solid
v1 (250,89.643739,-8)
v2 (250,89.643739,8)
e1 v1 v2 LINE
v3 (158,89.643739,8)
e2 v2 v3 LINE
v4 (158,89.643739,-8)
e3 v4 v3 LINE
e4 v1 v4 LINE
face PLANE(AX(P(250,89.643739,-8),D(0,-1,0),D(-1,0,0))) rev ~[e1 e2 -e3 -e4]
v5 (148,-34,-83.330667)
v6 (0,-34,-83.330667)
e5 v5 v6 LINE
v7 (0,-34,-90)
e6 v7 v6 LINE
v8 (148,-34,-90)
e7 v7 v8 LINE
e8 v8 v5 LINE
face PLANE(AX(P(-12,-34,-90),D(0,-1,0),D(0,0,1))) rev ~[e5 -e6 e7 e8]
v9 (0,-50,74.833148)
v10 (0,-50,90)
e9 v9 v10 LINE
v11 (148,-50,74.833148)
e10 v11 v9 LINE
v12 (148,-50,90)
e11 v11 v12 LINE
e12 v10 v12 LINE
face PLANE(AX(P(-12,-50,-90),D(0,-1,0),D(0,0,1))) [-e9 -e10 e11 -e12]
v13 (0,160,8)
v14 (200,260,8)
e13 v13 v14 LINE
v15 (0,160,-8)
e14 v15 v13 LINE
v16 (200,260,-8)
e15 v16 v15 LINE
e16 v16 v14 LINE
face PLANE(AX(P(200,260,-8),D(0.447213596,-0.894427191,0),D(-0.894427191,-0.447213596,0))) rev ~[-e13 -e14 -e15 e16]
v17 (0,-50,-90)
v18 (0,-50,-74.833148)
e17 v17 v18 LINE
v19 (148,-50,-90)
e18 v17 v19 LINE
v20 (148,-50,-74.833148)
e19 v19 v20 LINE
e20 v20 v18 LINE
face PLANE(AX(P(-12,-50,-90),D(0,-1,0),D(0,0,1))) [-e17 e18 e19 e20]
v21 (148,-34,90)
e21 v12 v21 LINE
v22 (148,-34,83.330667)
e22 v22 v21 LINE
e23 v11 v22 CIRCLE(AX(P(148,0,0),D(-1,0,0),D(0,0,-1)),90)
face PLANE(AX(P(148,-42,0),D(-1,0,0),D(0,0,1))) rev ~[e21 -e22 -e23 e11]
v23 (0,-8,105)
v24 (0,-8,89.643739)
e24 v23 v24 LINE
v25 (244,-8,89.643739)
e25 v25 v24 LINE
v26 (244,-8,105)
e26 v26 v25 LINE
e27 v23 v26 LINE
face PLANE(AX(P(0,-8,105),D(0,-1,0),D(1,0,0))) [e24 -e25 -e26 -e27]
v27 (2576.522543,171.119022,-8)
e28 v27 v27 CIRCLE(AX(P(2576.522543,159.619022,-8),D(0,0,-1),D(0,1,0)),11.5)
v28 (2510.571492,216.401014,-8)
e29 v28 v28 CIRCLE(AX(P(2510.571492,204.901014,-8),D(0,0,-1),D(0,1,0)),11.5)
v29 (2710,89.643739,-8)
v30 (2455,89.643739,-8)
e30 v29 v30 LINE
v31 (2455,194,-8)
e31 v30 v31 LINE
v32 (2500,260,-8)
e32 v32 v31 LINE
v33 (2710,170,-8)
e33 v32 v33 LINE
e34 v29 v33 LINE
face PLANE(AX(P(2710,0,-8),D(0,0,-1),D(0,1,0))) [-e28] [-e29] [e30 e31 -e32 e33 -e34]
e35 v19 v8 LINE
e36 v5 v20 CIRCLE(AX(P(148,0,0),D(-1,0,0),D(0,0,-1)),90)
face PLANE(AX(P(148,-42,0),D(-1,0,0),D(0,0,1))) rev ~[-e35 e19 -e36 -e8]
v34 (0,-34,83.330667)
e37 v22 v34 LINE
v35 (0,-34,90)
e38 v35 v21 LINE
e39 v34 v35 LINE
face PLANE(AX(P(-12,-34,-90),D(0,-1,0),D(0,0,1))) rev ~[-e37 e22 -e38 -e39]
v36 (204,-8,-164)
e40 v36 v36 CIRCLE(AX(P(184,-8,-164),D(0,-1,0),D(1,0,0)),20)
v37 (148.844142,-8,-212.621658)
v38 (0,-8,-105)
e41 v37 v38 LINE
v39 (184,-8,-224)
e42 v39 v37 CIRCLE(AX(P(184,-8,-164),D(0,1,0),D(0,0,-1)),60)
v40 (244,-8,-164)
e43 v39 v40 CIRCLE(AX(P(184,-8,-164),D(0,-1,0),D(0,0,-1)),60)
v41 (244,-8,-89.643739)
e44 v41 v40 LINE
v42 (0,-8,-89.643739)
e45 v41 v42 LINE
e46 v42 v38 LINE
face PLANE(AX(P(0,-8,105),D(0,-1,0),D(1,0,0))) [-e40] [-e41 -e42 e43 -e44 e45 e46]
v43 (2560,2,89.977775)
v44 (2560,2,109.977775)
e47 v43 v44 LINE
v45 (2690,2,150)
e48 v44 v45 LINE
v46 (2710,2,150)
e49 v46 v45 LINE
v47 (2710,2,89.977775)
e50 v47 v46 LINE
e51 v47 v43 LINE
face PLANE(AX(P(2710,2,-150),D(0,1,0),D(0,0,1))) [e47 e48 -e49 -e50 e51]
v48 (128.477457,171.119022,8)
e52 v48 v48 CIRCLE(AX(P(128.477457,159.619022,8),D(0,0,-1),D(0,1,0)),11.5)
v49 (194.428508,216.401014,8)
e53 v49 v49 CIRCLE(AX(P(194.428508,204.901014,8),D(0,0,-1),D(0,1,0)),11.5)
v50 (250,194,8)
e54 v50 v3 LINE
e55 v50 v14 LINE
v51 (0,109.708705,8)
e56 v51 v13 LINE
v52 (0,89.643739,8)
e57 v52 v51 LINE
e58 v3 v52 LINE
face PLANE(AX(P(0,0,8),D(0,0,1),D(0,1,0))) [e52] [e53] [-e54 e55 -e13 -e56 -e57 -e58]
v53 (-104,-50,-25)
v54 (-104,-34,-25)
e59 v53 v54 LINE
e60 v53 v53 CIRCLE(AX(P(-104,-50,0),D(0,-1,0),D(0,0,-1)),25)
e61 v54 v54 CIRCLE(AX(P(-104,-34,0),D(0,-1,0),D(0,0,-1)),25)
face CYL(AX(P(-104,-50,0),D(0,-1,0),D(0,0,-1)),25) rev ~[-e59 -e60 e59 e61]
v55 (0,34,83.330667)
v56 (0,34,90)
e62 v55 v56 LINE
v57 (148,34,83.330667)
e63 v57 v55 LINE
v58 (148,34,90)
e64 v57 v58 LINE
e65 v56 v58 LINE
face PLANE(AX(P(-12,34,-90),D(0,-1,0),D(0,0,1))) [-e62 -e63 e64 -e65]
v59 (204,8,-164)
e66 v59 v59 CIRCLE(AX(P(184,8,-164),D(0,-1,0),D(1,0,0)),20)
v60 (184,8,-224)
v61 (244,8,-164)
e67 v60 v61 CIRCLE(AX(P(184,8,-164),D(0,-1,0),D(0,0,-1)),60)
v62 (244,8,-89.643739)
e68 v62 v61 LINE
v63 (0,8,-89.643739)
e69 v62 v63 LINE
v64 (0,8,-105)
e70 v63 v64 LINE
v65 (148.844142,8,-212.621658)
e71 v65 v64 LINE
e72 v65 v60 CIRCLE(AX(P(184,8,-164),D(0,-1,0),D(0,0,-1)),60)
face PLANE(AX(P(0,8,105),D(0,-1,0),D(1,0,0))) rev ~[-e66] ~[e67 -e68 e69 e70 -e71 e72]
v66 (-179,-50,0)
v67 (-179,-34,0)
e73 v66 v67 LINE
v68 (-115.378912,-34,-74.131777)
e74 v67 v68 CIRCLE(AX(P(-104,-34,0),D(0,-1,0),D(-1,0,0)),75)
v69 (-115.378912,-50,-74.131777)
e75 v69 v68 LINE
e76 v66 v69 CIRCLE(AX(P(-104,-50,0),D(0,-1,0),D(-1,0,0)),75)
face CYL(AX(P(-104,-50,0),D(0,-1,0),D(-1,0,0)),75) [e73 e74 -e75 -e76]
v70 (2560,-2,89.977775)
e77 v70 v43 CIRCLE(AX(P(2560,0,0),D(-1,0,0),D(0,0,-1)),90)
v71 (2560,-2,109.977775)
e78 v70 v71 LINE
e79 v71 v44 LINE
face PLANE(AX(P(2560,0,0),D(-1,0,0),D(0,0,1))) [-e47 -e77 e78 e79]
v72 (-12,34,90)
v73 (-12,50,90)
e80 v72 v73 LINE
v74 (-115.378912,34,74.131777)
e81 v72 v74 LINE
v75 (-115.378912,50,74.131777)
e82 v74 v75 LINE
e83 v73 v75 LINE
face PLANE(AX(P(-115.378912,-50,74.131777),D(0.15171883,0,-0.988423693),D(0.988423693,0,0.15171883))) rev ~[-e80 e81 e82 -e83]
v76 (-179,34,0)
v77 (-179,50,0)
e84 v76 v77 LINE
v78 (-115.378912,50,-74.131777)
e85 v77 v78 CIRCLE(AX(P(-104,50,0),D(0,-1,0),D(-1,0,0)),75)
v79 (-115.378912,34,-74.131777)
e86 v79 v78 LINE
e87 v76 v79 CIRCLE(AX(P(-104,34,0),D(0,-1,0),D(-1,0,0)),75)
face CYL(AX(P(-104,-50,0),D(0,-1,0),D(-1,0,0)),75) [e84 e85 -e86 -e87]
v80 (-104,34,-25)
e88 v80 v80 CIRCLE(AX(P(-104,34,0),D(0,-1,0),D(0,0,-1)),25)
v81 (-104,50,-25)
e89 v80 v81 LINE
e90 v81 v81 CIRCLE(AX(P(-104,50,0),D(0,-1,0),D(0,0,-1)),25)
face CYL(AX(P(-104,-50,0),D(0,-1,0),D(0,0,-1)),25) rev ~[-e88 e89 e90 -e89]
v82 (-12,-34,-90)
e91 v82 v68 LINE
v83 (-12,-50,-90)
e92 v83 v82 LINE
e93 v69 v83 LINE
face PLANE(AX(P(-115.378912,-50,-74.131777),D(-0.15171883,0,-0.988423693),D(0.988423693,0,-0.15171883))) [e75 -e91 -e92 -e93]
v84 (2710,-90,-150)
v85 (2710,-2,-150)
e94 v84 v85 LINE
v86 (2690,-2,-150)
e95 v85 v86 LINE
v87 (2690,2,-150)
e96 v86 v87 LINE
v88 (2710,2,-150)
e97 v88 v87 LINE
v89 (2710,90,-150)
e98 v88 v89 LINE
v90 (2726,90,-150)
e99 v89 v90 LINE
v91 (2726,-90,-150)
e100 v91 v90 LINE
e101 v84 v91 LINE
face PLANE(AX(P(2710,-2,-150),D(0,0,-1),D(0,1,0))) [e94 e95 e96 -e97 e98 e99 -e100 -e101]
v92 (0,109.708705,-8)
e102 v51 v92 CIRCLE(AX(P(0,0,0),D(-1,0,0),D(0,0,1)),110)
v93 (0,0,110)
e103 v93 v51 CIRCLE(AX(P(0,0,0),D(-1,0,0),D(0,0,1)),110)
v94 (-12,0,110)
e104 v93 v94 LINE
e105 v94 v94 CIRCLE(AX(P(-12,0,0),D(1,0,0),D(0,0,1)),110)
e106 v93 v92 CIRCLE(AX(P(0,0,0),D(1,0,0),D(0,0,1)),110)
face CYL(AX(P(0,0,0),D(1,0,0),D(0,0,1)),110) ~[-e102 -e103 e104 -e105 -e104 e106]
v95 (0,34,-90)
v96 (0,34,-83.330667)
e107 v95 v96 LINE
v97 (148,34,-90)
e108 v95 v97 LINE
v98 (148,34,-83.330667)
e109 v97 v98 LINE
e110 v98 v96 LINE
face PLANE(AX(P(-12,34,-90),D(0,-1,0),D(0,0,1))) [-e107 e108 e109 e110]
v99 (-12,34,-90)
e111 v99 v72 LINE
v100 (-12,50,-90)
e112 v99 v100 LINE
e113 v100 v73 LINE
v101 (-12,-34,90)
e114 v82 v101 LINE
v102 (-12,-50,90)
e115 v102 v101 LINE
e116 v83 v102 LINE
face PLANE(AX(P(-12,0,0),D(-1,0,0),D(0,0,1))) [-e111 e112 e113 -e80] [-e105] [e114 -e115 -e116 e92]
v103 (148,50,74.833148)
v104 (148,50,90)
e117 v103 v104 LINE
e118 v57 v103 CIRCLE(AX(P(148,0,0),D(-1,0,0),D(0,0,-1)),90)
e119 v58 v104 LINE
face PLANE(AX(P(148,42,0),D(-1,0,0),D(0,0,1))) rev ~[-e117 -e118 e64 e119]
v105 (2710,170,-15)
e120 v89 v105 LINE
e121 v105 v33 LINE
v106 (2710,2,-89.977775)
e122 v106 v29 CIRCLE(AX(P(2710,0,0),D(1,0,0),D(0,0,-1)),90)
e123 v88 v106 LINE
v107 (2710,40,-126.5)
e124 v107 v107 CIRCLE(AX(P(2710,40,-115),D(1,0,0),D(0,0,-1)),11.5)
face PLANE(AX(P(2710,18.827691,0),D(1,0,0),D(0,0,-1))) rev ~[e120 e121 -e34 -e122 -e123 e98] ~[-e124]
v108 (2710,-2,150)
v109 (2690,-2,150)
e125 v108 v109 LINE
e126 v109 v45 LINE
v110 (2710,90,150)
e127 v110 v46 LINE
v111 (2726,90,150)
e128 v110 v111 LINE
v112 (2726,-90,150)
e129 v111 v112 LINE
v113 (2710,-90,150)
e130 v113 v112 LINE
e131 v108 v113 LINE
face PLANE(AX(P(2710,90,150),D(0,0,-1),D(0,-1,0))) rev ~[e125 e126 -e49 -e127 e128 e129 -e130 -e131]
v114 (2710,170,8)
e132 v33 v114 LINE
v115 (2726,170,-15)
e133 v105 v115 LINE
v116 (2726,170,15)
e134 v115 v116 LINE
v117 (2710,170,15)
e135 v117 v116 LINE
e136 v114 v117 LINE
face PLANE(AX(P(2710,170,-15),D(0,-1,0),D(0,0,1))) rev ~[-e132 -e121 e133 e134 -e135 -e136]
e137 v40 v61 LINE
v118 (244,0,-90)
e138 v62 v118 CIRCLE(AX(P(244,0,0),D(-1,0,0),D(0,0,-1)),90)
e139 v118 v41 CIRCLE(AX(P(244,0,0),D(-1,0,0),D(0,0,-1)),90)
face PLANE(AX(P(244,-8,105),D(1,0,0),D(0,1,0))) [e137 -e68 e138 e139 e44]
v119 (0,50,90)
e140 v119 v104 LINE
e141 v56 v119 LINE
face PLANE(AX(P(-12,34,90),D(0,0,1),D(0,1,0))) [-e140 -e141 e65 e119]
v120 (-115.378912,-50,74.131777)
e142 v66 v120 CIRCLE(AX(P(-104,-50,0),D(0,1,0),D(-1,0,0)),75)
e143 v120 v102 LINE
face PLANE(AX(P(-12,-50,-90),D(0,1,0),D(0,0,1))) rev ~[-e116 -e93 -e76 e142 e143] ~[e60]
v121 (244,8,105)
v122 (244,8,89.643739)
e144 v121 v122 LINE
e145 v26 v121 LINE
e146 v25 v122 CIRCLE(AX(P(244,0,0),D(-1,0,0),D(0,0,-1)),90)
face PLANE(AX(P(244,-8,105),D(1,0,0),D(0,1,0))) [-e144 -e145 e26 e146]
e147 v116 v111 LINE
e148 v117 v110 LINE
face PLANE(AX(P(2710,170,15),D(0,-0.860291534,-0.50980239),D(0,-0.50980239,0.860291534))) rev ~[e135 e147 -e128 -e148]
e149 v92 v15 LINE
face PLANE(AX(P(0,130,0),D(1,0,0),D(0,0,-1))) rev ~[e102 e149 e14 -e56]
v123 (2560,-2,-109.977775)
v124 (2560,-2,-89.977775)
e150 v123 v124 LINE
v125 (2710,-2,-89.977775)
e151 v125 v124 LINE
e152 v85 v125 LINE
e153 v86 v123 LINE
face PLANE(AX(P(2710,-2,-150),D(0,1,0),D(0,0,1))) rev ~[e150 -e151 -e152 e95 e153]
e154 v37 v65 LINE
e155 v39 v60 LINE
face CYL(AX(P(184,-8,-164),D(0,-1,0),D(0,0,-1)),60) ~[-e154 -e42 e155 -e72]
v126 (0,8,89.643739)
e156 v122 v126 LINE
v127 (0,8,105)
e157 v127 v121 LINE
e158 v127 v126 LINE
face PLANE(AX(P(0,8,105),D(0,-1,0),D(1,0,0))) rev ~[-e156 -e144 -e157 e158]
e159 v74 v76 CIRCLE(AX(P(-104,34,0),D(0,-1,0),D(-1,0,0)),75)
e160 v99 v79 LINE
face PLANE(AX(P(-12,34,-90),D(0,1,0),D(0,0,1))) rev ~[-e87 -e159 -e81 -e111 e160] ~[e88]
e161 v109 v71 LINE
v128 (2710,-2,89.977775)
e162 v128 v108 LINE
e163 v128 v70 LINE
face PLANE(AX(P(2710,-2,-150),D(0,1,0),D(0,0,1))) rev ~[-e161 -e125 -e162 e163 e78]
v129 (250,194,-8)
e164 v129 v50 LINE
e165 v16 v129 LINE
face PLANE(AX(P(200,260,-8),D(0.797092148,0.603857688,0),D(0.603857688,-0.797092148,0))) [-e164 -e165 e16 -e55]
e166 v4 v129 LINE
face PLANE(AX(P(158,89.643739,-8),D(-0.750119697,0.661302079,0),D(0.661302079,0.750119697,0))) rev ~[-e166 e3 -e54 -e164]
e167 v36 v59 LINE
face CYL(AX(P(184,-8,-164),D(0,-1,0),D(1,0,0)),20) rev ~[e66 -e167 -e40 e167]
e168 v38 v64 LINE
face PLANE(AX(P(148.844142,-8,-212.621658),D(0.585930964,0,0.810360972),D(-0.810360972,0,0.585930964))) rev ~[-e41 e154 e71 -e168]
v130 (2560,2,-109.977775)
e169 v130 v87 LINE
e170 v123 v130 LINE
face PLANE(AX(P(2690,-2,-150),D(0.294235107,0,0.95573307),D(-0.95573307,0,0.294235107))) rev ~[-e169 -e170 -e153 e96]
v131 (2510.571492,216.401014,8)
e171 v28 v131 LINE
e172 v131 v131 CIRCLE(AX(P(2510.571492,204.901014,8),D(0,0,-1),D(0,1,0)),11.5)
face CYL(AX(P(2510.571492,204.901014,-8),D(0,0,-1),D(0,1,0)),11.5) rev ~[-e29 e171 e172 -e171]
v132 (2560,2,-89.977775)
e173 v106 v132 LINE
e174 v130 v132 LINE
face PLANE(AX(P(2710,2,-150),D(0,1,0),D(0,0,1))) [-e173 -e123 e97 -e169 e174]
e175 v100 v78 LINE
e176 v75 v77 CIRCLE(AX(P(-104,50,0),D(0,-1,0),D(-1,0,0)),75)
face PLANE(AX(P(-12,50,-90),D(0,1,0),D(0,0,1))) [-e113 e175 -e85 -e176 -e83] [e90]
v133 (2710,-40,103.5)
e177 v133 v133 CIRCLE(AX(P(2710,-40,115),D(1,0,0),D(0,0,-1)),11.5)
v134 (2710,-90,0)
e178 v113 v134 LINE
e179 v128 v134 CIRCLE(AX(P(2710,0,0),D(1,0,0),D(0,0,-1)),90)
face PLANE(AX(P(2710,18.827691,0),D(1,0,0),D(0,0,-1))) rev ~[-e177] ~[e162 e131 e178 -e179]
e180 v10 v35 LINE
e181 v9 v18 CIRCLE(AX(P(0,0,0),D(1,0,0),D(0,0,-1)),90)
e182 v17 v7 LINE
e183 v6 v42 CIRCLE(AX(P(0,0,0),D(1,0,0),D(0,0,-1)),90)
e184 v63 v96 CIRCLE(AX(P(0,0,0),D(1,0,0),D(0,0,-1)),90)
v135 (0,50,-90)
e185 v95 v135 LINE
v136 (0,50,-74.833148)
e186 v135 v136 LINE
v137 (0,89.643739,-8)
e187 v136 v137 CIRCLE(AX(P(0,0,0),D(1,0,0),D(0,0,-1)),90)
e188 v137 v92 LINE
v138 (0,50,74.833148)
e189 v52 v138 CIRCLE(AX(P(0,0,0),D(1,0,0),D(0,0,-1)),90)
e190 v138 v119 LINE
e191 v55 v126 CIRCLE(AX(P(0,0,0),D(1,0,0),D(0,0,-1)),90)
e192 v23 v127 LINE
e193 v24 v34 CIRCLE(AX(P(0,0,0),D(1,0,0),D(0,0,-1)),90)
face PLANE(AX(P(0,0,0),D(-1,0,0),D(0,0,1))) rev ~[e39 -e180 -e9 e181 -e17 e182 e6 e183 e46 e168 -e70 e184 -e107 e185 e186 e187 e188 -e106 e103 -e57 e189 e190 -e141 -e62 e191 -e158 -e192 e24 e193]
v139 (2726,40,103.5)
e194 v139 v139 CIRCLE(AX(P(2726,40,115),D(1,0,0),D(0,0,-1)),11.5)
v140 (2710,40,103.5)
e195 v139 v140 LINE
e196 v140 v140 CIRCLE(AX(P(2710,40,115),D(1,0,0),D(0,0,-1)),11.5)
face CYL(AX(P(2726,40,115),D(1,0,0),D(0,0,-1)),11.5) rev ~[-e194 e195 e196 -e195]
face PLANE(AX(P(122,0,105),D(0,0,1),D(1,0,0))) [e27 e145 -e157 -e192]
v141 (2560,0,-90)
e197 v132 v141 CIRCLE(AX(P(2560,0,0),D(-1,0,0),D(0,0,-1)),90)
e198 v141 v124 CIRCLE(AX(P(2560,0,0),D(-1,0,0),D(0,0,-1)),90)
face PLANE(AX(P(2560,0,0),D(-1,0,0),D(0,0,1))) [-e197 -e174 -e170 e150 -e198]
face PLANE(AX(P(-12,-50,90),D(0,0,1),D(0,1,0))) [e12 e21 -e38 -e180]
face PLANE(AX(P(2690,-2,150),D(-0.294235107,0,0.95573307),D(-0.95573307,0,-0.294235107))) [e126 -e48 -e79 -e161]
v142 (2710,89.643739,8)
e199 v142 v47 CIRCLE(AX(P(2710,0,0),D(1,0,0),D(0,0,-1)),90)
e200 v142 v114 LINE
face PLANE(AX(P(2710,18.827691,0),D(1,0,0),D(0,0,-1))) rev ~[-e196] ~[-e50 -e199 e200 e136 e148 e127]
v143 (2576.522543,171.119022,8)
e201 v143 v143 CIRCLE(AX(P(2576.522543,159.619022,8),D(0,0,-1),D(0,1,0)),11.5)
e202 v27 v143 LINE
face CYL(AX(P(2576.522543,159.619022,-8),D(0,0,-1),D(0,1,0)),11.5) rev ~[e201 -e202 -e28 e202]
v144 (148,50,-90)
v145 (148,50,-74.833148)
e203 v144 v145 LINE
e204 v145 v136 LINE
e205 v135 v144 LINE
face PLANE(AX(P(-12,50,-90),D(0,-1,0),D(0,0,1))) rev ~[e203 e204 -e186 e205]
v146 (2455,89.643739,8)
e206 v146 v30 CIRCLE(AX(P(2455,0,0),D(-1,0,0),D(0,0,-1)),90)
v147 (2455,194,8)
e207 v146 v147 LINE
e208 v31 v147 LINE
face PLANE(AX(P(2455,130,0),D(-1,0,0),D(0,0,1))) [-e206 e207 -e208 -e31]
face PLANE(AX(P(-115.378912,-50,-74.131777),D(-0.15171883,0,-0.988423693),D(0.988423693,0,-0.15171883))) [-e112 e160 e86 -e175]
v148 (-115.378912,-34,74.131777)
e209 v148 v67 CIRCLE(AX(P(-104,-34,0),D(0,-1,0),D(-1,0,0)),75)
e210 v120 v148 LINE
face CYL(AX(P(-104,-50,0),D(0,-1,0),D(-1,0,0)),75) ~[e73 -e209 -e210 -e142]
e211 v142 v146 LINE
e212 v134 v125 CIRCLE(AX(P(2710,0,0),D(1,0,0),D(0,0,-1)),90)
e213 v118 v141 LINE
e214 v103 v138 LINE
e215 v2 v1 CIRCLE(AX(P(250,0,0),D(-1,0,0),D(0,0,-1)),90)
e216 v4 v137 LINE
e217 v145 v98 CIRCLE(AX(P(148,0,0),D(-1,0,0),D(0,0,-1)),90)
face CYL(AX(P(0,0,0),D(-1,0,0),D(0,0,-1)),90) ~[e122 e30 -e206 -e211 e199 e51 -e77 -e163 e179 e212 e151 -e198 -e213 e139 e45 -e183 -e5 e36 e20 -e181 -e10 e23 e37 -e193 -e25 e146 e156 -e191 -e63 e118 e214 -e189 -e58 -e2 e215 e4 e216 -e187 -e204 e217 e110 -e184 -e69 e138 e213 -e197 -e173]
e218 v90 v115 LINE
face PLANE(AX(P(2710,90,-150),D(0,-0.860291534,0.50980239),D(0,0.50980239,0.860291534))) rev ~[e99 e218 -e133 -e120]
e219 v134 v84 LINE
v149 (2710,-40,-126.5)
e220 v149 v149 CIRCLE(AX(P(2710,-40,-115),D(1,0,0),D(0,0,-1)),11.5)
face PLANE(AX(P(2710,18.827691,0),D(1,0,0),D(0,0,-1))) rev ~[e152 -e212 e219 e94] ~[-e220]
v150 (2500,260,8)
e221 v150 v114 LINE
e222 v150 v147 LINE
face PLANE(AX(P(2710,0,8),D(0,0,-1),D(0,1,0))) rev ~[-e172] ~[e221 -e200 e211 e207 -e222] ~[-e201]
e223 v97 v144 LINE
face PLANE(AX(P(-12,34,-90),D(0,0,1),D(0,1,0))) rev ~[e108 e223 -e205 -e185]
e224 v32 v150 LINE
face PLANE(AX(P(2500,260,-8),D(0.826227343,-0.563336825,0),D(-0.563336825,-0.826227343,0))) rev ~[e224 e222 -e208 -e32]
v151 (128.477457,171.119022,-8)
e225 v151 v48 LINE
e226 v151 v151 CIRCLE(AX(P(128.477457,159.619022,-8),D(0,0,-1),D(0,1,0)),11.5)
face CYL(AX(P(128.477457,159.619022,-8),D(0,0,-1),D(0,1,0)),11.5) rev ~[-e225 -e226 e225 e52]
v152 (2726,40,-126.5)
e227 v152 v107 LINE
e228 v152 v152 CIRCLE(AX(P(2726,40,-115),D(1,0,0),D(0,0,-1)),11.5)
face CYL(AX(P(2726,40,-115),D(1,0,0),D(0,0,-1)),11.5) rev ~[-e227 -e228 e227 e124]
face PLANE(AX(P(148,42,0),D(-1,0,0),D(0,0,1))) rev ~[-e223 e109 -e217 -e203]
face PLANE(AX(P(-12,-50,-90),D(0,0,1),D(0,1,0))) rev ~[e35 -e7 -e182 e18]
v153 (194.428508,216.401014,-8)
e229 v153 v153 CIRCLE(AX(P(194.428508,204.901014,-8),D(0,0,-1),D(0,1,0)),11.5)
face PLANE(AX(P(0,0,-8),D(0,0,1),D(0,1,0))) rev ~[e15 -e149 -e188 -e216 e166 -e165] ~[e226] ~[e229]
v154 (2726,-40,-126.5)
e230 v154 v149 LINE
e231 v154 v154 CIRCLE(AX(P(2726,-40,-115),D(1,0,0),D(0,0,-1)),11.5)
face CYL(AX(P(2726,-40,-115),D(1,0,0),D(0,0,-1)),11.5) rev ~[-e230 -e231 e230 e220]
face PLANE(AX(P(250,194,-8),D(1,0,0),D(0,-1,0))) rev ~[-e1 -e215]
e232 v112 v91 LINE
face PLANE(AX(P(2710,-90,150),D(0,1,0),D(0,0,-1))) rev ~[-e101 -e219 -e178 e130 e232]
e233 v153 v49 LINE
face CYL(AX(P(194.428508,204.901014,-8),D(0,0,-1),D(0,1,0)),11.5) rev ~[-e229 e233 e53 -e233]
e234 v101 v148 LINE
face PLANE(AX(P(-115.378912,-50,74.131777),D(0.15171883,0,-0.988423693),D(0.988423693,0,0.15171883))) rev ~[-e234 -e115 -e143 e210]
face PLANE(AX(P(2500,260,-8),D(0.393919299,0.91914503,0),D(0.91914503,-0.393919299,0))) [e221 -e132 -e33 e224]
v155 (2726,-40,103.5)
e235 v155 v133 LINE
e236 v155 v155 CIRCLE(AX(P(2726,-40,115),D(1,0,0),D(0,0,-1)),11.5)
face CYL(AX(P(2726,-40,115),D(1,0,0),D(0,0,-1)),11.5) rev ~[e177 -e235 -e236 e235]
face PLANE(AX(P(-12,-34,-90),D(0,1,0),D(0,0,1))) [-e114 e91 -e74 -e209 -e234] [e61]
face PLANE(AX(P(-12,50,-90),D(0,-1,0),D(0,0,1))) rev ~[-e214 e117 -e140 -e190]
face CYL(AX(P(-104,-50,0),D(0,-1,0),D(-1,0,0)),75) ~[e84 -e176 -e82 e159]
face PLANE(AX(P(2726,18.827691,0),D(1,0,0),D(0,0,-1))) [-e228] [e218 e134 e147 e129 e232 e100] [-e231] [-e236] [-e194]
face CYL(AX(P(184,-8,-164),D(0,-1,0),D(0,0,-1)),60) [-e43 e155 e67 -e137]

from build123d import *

# Parameters (mm, degrees)
SKETCH_2_R           = 90
EXTRUDE_1_DEPTH      = 2710
EXTRUDE_2_DEPTH      = 16
SKETCH_4_R           = 11.5
CUT_EXTRUDE_1_DEPTH  = 2736.411486413
SKETCH_5_W           = 300
SKETCH_5_H           = 4
EXTRUDE_3_DEPTH      = 150
CUT_EXTRUDE_2_DEPTH  = 2736.536510449
SKETCH_7_W           = 16
SKETCH_7_H           = 260
EXTRUDE_4_DEPTH      = 255
CUT_EXTRUDE_3_DEPTH  = 2743.925445578
CUT_EXTRUDE_4_DEPTH  = 2743.925445578
SKETCH_11_R          = 11.5
CUT_EXTRUDE_5_DEPTH  = 2743.925445578
SKETCH_12_R          = 110
EXTRUDE_5_DEPTH      = 12
SKETCH_14_W          = 16
SKETCH_14_H          = 260
EXTRUDE_6_DEPTH      = 250
CUT_EXTRUDE_7_DEPTH  = 2743.925445578
CUT_EXTRUDE_8_DEPTH  = 2743.925445578
SKETCH_17_R          = 11.5
CUT_EXTRUDE_9_DEPTH  = 2743.925445578
SKETCH_18_W          = 180
SKETCH_18_H          = 16
EXTRUDE_7_DEPTH      = 167
CUT_EXTRUDE_10_DEPTH = 2748.667374338
CUT_EXTRUDE_11_DEPTH = 2748.667374338
SKETCH_21_R          = 25
CUT_EXTRUDE_12_DEPTH = 2748.667374338
SKETCH_22_W          = 180
SKETCH_22_H          = 16
EXTRUDE_8_DEPTH      = 160
SKETCH_23_W          = 244
SKETCH_23_H          = 16
EXTRUDE_9_DEPTH      = 329
CUT_EXTRUDE_13_DEPTH = 2749.286011317
CUT_EXTRUDE_14_DEPTH = 2749.286011317
SKETCH_27_R          = 20
CUT_EXTRUDE_15_DEPTH = 2749.286011317


with BuildPart() as part:
    # 草图2 → 凸台-拉伸1 (new body)
    with BuildSketch(Plane(origin=(0, 0, 0), x_dir=(0, 0, -1), z_dir=(1, 0, 0))):
        Circle(SKETCH_2_R)
    extrude(amount=EXTRUDE_1_DEPTH)

    # 草图3 → 凸台-拉伸2 (add)
    with BuildSketch(Plane(origin=(2710, 0, 0), x_dir=(0, 0, -1), z_dir=(1, 0, 0))):
        Polygon((-150, -90), (150, -90), (150, 90), (15, 170), (-15, 170), (-150, 90), align=None)
    extrude(amount=EXTRUDE_2_DEPTH)

    # 草图4 → 切除-拉伸1 (cut, through all)
    with BuildSketch(Plane(origin=(2726, 0, 0), x_dir=(0, 0, -1), z_dir=(1, 0, 0))):
        with Locations((115, -40)):
            Circle(SKETCH_4_R)
        with Locations((115, 40)):
            Circle(SKETCH_4_R)
        with Locations((-115, 40)):
            Circle(SKETCH_4_R)
        with Locations((-115, -40)):
            Circle(SKETCH_4_R)
    extrude(amount=-CUT_EXTRUDE_1_DEPTH, mode=Mode.SUBTRACT)

    # 草图5 → 凸台-拉伸3 (add)
    with BuildSketch(Plane.ZY.offset(-2710)):
        Rectangle(SKETCH_5_W, SKETCH_5_H)
    extrude(amount=EXTRUDE_3_DEPTH)

    # 草图6 → 切除-拉伸2 (cut, through all)
    with BuildSketch(Plane.XZ.offset(2)):
        Polygon((2690, 150), (2560, 109.977775034), (2560, 150), align=None)
        Polygon((2560, -109.977775034), (2560, -150), (2690, -150), align=None)
    extrude(amount=-CUT_EXTRUDE_2_DEPTH, mode=Mode.SUBTRACT)

    # 草图7 → 凸台-拉伸4 (add)
    with BuildSketch(Plane.ZY.offset(-2710)):
        with Locations((0, 130)):
            Rectangle(SKETCH_7_W, SKETCH_7_H)
    extrude(amount=EXTRUDE_4_DEPTH)

    # 草图9 → 切除-拉伸3 (cut, through all)
    with BuildSketch(Plane(origin=(0, 0, -8), x_dir=(-1, 0, 0), z_dir=(0, 0, -1))):
        Polygon((-2710, 260), (-2500, 260), (-2710, 170), align=None)
    extrude(amount=-CUT_EXTRUDE_3_DEPTH, mode=Mode.SUBTRACT)

    # 草图10 → 切除-拉伸4 (cut, through all)
    with BuildSketch(Plane(origin=(0, 0, -8), x_dir=(-1, 0, 0), z_dir=(0, 0, -1))):
        Polygon((-2500, 260), (-2455, 194), (-2455, 260), align=None)
    extrude(amount=-CUT_EXTRUDE_4_DEPTH, mode=Mode.SUBTRACT)

    # 草图11 → 切除-拉伸5 (cut, through all)
    with BuildSketch(Plane(origin=(0, 0, -8), x_dir=(-1, 0, 0), z_dir=(0, 0, -1))):
        with Locations((-2576.522543277, 159.619021786)):
            Circle(SKETCH_11_R)
        with Locations((-2510.571491725, 204.901013782)):
            Circle(SKETCH_11_R)
    extrude(amount=-CUT_EXTRUDE_5_DEPTH, mode=Mode.SUBTRACT)

    # 草图12 → 凸台-拉伸5 (add)
    with BuildSketch(Plane.ZY):
        Circle(SKETCH_12_R)
    extrude(amount=EXTRUDE_5_DEPTH)

    # 草图14 → 凸台-拉伸6 (add)
    with BuildSketch(Plane(origin=(0, 0, 0), x_dir=(0, 0, -1), z_dir=(1, 0, 0))):
        with Locations((0, 130)):
            Rectangle(SKETCH_14_W, SKETCH_14_H)
    extrude(amount=EXTRUDE_6_DEPTH)

    # 草图15 → 切除-拉伸7 (cut, through all)
    with BuildSketch(Plane(origin=(0, 0, -8), x_dir=(-1, 0, 0), z_dir=(0, 0, -1))):
        Polygon((-250, 194), (-250, 89.643739324), (-158, 89.643739324), align=None)
        Polygon((-200, 260), (0, 160), (0, 260), align=None)
    extrude(amount=-CUT_EXTRUDE_7_DEPTH, mode=Mode.SUBTRACT)

    # 草图16 → 切除-拉伸8 (cut, through all)
    with BuildSketch(Plane(origin=(0, 0, -8), x_dir=(-1, 0, 0), z_dir=(0, 0, -1))):
        Polygon((-250, 260), (-200, 260), (-250, 194), align=None)
    extrude(amount=-CUT_EXTRUDE_8_DEPTH, mode=Mode.SUBTRACT)

    # 草图17 → 切除-拉伸9 (cut, through all)
    with BuildSketch(Plane(origin=(0, 0, -8), x_dir=(-1, 0, 0), z_dir=(0, 0, -1))):
        with Locations((-128.477456723, 159.619021786)):
            Circle(SKETCH_17_R)
        with Locations((-194.428508275, 204.901013782)):
            Circle(SKETCH_17_R)
    extrude(amount=-CUT_EXTRUDE_9_DEPTH, mode=Mode.SUBTRACT)

    # 草图18 → 凸台-拉伸7 (add)
    with BuildSketch(Plane.ZY.offset(12)):
        with Locations((0, 42)):
            Rectangle(SKETCH_18_W, SKETCH_18_H)
        with Locations((0, -42)):
            Rectangle(SKETCH_18_W, SKETCH_18_H)
    extrude(amount=EXTRUDE_7_DEPTH)

    # 草图19 → 切除-拉伸10 (cut, through all)
    with BuildSketch(Plane.XZ.offset(50)):
        with BuildLine():
            Line((-115.378912249, 74.131776965), (-12, 90))
            Line((-12, 90), (-179, 90))
            Line((-179, 90), (-179, 0))
            ThreePointArc((-179, 0), (-160.914051071, 48.844557431), (-115.378912249, 74.131776965))
        make_face()
    extrude(amount=-CUT_EXTRUDE_10_DEPTH, mode=Mode.SUBTRACT)

    # 草图20 → 切除-拉伸11 (cut, through all)
    with BuildSketch(Plane.XZ.offset(50)):
        with BuildLine():
            Line((-115.378912249, -74.131776965), (-12, -90))
            Line((-12, -90), (-179, -90))
            Line((-179, -90), (-179, 0))
            ThreePointArc((-179, 0), (-160.914051071, -48.844557431), (-115.378912249, -74.131776965))
        make_face()
    extrude(amount=-CUT_EXTRUDE_11_DEPTH, mode=Mode.SUBTRACT)

    # 草图21 → 切除-拉伸12 (cut, through all)
    with BuildSketch(Plane.XZ.offset(50)):
        with Locations((-104, 0)):
            Circle(SKETCH_21_R)
    extrude(amount=-CUT_EXTRUDE_12_DEPTH, mode=Mode.SUBTRACT)

    # 草图22 → 凸台-拉伸8 (add)
    with BuildSketch(Plane.ZY.offset(12)):
        with Locations((0, 42)):
            Rectangle(SKETCH_22_W, SKETCH_22_H)
        with Locations((0, -42)):
            Rectangle(SKETCH_22_W, SKETCH_22_H)
    extrude(amount=-EXTRUDE_8_DEPTH)

    # 草图23 → 凸台-拉伸9 (add)
    with BuildSketch(Plane.XY.offset(105)):
        with Locations((122, 0)):
            Rectangle(SKETCH_23_W, SKETCH_23_H)
    extrude(amount=-EXTRUDE_9_DEPTH)

    # 草图25 → 切除-拉伸13 (cut, through all)
    with BuildSketch(Plane(origin=(0, -8, 0), x_dir=(-1, 0, 0), z_dir=(0, -1, 0))):
        with BuildLine():
            Line((-244, 164), (-244, 224))
            Line((-244, 224), (-184, 224))
            ThreePointArc((-184, 224), (-226.426406871, 206.426406871), (-244, 164))
        make_face()
    extrude(amount=-CUT_EXTRUDE_13_DEPTH, mode=Mode.SUBTRACT)

    # 草图26 → 切除-拉伸14 (cut, through all)
    with BuildSketch(Plane.XZ.offset(8)):
        with BuildLine():
            Line((148.844142163, -212.62165834), (0, -105))
            Line((0, -105), (0, -224))
            Line((0, -224), (184, -224))
            ThreePointArc((184, -224), (165.524333576, -221.084584173), (148.844142163, -212.62165834))
        make_face()
    extrude(amount=-CUT_EXTRUDE_14_DEPTH, mode=Mode.SUBTRACT)

    # 草图27 → 切除-拉伸15 (cut, through all)
    with BuildSketch(Plane.XZ.offset(8)):
        with Locations((184, -164)):
            Circle(SKETCH_27_R)
    extrude(amount=-CUT_EXTRUDE_15_DEPTH, mode=Mode.SUBTRACT)


solid = part.part
